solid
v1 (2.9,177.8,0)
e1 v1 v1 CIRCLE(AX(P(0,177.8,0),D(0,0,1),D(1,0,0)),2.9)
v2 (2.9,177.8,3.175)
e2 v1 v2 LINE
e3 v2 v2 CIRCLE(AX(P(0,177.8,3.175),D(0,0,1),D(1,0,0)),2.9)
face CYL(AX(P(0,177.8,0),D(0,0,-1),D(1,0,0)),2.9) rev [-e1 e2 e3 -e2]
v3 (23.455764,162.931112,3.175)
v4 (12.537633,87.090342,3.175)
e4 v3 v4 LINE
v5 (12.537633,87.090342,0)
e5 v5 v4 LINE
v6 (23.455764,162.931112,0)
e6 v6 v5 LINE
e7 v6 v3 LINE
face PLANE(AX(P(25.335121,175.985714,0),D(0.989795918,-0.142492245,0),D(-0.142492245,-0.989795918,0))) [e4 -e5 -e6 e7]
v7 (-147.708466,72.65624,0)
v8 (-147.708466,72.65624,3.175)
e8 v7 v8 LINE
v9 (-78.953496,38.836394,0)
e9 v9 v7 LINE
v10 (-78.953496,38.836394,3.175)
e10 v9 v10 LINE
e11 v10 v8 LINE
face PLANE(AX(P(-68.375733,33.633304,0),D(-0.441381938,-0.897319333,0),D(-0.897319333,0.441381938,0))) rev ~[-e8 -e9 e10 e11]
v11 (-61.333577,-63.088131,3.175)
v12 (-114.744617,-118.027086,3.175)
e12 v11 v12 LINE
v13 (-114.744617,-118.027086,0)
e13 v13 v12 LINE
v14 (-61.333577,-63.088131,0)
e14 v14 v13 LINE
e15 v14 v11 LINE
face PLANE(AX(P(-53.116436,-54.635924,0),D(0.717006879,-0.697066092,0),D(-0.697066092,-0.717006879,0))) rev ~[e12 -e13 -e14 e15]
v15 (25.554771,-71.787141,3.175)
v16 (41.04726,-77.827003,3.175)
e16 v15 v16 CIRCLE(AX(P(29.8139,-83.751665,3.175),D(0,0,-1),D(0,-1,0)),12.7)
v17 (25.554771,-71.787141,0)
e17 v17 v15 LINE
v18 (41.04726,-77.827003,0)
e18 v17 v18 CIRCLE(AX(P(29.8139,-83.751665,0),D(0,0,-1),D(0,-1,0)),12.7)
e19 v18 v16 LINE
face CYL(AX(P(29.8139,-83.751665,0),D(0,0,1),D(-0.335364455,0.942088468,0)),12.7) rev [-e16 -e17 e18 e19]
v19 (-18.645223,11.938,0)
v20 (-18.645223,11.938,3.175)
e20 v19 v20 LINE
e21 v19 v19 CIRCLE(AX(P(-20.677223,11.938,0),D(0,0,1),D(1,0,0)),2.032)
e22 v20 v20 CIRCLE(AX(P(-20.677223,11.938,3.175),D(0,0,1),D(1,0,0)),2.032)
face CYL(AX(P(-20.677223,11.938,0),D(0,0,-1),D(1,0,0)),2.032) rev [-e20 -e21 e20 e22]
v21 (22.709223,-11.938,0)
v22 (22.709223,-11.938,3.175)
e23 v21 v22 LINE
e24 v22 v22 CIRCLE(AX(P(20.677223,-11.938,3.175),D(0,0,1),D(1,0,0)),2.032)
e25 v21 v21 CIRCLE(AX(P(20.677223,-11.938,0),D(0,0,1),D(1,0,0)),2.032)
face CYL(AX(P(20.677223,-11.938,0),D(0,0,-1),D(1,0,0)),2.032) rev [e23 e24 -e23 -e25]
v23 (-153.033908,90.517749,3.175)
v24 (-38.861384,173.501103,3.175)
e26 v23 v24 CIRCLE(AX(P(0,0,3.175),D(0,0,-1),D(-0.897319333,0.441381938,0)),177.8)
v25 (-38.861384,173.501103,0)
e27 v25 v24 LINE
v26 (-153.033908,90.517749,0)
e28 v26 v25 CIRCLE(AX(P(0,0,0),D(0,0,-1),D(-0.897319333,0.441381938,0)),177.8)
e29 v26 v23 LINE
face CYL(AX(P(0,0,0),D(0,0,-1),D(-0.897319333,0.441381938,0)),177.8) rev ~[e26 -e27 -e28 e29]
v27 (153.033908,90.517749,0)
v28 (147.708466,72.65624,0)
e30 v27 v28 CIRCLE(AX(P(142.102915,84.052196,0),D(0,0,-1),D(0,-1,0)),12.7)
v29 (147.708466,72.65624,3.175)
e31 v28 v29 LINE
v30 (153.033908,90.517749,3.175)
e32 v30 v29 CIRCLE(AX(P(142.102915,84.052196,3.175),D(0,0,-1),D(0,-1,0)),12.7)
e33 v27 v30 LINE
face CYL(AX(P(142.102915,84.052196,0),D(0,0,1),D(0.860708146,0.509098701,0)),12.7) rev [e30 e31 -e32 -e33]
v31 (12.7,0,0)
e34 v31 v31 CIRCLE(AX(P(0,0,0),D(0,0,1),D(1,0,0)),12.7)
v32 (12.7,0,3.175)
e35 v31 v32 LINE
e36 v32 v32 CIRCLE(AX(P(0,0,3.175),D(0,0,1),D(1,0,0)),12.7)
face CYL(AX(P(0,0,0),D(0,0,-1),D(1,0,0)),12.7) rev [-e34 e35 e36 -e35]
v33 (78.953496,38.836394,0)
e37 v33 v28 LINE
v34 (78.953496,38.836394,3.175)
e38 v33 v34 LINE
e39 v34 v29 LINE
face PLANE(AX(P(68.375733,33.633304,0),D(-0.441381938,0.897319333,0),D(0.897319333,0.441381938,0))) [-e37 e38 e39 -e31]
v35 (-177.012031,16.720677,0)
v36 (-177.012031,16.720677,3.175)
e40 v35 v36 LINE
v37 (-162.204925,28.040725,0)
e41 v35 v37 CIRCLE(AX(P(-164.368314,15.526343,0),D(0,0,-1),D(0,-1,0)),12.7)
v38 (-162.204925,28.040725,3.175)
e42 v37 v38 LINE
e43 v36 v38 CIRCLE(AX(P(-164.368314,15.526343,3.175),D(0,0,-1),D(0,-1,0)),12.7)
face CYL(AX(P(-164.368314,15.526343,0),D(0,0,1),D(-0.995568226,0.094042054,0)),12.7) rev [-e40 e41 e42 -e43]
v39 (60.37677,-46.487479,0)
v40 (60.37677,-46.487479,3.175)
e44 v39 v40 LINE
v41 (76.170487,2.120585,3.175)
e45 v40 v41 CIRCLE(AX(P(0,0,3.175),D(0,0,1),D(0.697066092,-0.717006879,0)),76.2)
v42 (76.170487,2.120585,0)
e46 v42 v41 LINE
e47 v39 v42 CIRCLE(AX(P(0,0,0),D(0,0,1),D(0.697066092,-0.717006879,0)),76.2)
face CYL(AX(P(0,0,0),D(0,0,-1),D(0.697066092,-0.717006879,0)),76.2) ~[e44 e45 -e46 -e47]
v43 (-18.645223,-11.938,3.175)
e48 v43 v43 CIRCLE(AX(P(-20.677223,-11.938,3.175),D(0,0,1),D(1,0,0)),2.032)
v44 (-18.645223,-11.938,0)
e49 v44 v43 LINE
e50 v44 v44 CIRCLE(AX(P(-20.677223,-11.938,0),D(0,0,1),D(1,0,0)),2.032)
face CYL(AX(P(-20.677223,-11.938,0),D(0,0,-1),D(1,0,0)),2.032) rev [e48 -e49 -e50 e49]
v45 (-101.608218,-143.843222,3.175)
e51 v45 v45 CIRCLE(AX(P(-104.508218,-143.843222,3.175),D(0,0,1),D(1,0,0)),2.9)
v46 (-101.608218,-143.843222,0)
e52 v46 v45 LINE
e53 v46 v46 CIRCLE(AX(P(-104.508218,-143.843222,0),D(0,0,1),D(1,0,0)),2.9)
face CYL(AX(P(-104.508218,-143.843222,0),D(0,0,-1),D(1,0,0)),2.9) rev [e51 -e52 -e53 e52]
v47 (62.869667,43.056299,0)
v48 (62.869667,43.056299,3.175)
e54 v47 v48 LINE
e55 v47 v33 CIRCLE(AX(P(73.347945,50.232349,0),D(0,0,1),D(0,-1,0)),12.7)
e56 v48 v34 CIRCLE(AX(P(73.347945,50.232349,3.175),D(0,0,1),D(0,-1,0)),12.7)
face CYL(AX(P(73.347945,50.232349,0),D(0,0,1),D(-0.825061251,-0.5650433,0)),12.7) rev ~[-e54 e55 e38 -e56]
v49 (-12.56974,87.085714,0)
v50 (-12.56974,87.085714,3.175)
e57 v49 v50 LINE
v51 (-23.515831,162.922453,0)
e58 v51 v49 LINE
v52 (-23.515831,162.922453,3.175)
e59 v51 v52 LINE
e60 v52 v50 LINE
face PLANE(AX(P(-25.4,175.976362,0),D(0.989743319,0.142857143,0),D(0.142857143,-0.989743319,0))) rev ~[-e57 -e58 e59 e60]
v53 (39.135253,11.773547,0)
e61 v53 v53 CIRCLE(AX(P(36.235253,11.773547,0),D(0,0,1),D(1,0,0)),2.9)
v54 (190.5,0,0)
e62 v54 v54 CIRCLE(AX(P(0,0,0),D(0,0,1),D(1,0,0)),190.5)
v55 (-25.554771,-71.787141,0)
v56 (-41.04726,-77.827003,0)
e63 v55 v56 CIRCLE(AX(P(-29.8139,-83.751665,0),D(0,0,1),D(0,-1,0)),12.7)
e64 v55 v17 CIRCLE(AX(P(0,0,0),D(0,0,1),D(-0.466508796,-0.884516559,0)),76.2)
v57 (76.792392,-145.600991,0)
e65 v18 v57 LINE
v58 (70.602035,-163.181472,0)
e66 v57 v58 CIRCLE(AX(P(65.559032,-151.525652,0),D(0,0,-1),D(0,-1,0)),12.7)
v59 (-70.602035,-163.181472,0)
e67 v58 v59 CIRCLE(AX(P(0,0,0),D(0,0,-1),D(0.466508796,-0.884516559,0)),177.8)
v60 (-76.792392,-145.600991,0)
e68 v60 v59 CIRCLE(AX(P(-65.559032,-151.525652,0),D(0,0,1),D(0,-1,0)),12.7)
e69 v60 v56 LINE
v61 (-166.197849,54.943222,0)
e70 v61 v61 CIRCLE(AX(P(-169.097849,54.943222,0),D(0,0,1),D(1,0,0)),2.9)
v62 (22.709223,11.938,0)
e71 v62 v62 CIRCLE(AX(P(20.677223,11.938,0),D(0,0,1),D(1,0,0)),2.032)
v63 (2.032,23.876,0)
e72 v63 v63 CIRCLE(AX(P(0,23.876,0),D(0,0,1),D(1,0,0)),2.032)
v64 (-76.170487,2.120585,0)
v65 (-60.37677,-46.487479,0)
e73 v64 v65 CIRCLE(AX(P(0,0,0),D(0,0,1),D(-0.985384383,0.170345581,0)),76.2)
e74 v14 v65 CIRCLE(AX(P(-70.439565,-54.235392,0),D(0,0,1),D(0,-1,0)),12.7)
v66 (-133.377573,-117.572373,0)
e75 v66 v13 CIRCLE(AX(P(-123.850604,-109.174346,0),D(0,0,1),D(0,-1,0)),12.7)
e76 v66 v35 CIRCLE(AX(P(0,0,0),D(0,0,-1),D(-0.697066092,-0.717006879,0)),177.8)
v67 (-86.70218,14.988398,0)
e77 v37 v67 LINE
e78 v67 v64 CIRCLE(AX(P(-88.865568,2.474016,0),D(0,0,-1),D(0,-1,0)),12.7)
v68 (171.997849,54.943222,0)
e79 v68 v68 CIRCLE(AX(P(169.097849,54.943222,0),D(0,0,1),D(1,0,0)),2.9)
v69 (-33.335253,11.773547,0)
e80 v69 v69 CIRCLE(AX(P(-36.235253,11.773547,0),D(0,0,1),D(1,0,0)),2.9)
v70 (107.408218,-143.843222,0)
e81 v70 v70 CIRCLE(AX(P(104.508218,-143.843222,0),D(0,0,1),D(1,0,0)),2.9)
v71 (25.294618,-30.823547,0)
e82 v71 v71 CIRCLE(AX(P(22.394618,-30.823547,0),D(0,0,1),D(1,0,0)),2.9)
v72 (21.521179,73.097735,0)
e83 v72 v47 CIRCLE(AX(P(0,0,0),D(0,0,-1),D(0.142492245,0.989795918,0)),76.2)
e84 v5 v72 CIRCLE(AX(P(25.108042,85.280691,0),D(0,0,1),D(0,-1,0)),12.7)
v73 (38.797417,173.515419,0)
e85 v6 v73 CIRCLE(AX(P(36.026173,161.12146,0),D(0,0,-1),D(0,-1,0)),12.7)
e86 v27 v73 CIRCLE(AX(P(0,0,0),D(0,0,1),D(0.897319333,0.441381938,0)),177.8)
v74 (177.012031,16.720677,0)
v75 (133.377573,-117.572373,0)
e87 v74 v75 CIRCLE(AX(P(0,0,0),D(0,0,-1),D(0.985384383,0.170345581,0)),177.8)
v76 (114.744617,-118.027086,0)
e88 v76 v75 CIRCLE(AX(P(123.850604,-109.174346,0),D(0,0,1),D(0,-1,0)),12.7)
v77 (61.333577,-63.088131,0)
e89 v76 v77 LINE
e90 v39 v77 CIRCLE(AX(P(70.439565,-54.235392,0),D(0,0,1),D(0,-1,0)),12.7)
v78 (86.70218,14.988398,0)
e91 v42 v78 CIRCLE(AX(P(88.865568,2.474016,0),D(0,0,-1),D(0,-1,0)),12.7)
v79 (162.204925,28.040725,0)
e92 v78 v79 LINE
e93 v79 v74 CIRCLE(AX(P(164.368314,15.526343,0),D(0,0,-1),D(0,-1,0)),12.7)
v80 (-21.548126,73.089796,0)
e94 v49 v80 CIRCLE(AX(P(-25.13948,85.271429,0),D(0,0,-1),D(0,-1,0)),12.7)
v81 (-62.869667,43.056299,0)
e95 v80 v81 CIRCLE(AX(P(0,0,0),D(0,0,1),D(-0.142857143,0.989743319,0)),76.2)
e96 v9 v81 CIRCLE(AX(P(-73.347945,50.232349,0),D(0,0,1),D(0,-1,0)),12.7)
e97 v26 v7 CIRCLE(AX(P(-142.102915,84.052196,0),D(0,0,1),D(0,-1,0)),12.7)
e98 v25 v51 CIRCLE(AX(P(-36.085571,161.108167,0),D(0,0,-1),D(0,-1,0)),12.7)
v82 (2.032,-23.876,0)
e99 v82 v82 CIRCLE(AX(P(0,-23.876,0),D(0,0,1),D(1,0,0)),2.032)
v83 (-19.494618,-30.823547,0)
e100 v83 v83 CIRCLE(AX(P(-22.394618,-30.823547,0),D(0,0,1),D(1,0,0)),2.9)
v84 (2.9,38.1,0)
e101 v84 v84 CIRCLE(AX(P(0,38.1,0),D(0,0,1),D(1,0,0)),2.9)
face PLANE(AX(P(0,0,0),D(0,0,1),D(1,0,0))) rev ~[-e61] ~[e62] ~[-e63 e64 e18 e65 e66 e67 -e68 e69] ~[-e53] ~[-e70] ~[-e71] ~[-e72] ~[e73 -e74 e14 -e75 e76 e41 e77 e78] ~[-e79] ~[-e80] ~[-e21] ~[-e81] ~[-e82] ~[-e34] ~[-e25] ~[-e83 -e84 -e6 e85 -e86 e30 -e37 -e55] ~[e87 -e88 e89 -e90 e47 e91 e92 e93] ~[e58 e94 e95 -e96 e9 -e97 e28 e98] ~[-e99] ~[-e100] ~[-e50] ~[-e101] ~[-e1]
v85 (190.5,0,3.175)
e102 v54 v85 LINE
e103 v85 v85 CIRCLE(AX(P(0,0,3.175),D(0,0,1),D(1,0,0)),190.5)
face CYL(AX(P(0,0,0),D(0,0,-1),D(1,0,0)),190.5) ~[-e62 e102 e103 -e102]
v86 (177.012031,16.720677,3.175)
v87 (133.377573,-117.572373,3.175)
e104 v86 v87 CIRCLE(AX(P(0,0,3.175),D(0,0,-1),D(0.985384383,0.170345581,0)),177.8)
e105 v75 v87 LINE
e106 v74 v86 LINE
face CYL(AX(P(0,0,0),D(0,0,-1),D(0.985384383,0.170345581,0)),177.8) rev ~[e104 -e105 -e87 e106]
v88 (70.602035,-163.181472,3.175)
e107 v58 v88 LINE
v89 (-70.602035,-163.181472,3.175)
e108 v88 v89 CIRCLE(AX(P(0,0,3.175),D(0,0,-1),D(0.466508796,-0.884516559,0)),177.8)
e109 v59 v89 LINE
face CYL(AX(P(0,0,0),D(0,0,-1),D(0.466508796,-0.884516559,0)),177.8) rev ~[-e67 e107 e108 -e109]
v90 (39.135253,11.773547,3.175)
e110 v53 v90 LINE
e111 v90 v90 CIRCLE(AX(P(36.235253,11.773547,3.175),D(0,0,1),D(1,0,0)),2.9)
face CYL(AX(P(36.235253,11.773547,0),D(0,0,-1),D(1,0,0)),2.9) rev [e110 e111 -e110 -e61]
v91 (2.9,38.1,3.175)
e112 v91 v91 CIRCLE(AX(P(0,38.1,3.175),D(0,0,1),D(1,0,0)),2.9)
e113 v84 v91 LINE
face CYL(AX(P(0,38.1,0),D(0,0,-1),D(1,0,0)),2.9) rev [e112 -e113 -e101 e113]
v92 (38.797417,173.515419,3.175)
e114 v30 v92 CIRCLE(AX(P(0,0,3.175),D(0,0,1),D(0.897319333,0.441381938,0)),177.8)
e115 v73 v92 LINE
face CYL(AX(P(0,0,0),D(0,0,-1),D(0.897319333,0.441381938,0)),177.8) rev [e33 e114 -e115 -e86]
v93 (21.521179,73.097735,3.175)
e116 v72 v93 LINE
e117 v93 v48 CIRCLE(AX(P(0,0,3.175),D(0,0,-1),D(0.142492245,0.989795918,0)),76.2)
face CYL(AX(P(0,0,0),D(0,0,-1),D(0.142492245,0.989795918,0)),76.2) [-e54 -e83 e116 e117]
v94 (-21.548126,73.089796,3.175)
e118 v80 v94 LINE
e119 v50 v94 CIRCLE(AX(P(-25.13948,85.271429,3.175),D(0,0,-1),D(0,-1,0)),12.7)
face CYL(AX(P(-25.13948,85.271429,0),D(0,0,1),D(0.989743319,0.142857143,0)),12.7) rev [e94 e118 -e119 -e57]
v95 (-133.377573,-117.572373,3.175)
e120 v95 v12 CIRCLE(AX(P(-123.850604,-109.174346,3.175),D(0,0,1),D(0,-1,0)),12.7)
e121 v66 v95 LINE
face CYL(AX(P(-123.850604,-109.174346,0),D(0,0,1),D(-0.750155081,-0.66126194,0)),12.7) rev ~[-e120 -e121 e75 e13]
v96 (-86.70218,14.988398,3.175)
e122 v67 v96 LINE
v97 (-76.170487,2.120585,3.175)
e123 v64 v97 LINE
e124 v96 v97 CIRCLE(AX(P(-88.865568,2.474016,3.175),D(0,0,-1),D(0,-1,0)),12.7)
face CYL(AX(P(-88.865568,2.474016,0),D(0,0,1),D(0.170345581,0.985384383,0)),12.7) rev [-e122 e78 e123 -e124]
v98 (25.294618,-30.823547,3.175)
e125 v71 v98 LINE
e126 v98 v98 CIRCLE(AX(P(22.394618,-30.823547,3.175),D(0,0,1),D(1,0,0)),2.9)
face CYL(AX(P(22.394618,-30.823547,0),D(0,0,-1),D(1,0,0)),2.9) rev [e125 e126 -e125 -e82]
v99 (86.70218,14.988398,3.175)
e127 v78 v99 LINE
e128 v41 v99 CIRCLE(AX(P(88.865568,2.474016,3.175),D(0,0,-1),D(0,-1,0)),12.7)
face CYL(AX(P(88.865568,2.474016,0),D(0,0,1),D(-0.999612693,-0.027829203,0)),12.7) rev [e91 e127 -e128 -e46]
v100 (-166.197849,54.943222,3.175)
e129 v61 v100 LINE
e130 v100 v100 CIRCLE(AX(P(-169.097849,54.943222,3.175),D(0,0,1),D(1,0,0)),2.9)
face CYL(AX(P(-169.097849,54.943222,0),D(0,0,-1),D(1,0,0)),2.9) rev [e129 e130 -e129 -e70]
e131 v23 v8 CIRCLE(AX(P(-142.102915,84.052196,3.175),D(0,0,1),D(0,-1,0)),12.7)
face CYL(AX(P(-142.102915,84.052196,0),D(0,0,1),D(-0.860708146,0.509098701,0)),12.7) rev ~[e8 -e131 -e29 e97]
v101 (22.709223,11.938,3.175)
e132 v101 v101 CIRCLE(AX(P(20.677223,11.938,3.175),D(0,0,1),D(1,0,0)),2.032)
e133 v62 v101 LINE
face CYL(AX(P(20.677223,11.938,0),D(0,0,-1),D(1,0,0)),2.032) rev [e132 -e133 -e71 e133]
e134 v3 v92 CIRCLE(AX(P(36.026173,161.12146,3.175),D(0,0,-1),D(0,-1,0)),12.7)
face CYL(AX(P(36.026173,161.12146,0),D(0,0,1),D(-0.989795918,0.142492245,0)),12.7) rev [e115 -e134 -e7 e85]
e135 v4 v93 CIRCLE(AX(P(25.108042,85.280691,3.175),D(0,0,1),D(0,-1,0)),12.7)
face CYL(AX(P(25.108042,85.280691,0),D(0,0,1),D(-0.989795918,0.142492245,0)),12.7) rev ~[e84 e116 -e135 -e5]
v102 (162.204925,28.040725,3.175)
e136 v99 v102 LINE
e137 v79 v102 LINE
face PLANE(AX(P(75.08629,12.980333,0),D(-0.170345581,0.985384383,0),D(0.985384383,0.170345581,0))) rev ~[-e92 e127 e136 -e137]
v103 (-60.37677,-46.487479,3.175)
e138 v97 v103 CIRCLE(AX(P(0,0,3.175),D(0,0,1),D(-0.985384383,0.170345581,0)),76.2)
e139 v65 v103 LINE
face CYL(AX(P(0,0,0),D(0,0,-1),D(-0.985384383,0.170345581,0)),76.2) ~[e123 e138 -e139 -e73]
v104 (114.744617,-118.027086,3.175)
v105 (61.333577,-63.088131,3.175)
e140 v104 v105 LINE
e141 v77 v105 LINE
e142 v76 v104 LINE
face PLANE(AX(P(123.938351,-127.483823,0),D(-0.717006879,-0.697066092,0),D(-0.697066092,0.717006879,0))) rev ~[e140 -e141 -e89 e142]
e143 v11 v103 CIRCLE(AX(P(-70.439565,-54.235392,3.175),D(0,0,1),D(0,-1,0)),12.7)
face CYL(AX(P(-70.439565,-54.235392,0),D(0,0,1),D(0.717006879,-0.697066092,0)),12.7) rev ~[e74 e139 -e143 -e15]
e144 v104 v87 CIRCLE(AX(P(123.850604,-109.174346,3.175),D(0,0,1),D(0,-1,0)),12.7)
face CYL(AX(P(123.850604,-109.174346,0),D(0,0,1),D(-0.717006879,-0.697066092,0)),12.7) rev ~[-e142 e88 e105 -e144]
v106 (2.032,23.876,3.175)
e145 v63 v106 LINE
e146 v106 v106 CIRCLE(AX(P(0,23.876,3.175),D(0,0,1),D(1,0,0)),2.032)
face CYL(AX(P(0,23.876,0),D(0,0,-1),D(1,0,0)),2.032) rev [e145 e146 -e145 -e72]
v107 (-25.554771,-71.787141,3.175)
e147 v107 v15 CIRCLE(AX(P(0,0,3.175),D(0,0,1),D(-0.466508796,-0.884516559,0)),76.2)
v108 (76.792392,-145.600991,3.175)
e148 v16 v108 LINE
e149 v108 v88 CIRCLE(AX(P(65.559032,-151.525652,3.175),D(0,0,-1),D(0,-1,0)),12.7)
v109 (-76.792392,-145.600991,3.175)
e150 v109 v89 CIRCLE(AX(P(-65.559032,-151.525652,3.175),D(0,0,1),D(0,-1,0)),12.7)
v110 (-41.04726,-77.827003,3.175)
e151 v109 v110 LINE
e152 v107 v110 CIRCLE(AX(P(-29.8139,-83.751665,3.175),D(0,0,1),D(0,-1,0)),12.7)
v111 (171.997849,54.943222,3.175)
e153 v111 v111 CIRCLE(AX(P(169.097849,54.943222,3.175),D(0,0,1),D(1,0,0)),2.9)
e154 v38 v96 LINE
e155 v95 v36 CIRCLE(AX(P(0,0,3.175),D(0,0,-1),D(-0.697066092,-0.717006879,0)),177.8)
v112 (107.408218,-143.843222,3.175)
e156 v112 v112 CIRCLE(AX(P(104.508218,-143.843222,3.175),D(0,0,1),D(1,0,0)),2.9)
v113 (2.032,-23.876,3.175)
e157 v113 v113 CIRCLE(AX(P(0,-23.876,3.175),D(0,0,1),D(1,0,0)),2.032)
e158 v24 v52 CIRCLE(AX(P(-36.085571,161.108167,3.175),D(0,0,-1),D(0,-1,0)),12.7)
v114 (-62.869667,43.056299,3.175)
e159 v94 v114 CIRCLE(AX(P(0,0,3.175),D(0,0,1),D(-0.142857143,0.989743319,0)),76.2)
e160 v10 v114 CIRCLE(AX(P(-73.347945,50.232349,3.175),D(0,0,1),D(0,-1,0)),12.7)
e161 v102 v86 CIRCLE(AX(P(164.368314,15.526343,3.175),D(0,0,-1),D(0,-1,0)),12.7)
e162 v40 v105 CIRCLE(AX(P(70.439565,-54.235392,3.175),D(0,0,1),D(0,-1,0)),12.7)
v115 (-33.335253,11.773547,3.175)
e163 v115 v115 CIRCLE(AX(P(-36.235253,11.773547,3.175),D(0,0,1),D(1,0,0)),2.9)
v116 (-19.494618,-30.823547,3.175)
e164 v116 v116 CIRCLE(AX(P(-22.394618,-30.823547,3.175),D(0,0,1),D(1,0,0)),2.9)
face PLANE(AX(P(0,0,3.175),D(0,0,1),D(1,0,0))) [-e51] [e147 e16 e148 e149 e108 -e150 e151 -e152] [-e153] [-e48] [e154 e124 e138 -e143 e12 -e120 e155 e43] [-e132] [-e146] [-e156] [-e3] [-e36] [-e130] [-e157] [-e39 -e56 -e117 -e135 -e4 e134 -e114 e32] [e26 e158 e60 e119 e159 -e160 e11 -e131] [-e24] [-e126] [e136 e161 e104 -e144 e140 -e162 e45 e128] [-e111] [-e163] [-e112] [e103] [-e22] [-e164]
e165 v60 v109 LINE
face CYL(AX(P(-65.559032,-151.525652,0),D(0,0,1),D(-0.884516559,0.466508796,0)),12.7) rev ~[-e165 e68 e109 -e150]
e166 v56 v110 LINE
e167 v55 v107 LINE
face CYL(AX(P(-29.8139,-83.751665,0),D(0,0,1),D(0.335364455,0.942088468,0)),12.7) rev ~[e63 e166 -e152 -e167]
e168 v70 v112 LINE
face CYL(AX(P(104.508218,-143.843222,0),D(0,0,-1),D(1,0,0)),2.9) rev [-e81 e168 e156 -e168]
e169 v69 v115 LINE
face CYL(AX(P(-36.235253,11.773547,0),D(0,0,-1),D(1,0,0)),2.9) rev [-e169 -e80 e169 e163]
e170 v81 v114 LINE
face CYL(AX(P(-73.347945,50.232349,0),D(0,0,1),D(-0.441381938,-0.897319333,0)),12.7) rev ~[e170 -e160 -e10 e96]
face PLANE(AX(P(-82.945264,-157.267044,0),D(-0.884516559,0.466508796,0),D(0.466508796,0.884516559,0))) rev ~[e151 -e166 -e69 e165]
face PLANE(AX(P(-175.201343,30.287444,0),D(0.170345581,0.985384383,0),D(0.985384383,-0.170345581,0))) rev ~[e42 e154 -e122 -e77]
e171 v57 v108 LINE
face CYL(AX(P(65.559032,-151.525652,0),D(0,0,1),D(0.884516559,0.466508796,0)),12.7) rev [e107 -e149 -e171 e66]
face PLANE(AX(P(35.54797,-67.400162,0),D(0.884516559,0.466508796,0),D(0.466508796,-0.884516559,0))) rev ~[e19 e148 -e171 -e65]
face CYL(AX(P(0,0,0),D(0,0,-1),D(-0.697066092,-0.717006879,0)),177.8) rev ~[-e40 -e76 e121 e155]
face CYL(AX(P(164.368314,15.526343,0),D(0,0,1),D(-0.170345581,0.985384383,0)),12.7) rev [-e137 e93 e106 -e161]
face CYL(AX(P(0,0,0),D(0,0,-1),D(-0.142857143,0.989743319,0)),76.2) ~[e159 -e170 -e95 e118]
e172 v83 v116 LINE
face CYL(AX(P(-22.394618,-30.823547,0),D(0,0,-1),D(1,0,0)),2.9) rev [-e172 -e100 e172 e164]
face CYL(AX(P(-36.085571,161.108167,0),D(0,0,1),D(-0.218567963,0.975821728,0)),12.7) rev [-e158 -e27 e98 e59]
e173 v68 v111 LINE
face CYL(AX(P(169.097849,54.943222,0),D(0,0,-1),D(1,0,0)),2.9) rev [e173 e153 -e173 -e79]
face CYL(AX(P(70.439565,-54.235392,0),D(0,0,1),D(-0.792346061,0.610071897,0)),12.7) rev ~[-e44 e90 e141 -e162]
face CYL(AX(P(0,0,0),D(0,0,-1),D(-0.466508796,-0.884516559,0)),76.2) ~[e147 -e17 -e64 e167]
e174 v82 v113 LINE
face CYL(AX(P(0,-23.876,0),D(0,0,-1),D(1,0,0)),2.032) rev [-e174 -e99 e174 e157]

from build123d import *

# Parameters (mm, degrees)
SKETCH1_R           = 190.5
SKETCH1_R_2         = 12.7
SKETCH1_R_3         = 2.9
SKETCH1_R_4         = 2.032
BOSS_EXTRUDE3_DEPTH = 3.175
FILLET1_R           = 12.7
FILLET2_R           = 12.7
FILLET3_R           = 12.7


with BuildPart() as part:
    # Sketch1 → Boss-Extrude3 (new body)
    with BuildSketch(Plane.XY):
        Circle(SKETCH1_R)
        Circle(SKETCH1_R_2, mode=Mode.SUBTRACT)
        with Locations((-36.235253271, 11.773547486)):
            Circle(SKETCH1_R_3, mode=Mode.SUBTRACT)
        with Locations((-22.394618112, -30.823547486)):
            Circle(SKETCH1_R_3, mode=Mode.SUBTRACT)
        with Locations((22.394618112, -30.823547486)):
            Circle(SKETCH1_R_3, mode=Mode.SUBTRACT)
        with Locations((36.235253271, 11.773547486)):
            Circle(SKETCH1_R_3, mode=Mode.SUBTRACT)
        with Locations((0, 38.1)):
            Circle(SKETCH1_R_3, mode=Mode.SUBTRACT)
        with Locations((-169.097848597, 54.9432216)):
            Circle(SKETCH1_R_3, mode=Mode.SUBTRACT)
        with Locations((0, 177.8)):
            Circle(SKETCH1_R_3, mode=Mode.SUBTRACT)
        with Locations((169.097848597, 54.9432216)):
            Circle(SKETCH1_R_3, mode=Mode.SUBTRACT)
        with Locations((104.508217858, -143.8432216)):
            Circle(SKETCH1_R_3, mode=Mode.SUBTRACT)
        with Locations((-104.508217858, -143.8432216)):
            Circle(SKETCH1_R_3, mode=Mode.SUBTRACT)
        with Locations((-20.677222541, 11.938)):
            Circle(SKETCH1_R_4, mode=Mode.SUBTRACT)
        with Locations((0, 23.876)):
            Circle(SKETCH1_R_4, mode=Mode.SUBTRACT)
        with Locations((20.677222541, 11.938)):
            Circle(SKETCH1_R_4, mode=Mode.SUBTRACT)
        with Locations((20.677222541, -11.938)):
            Circle(SKETCH1_R_4, mode=Mode.SUBTRACT)
        with Locations((0, -23.876)):
            Circle(SKETCH1_R_4, mode=Mode.SUBTRACT)
        with Locations((-20.677222541, -11.938)):
            Circle(SKETCH1_R_4, mode=Mode.SUBTRACT)
        with BuildLine():
            Line((25.335121222, 175.985714286), (10.857909095, 75.42244898))
            ThreePointArc((10.857909095, 75.42244898), (44.789236225, 61.647094971), (68.375733143, 33.63330369))
            Line((68.375733143, 33.63330369), (159.543377334, 78.477708611))
            ThreePointArc((159.543377334, 78.477708611), (104.508217858, 143.8432216), (25.335121222, 175.985714286))
        make_face(mode=Mode.SUBTRACT)
        with BuildLine():
            Line((-25.4, 175.976362049), (-10.885714286, 75.418440878))
            ThreePointArc((-10.885714286, 75.418440878), (-44.800599154, 61.63883772), (-68.375733143, 33.63330369))
            Line((-68.375733143, 33.63330369), (-159.543377334, 78.477708611))
            ThreePointArc((-159.543377334, 78.477708611), (-104.53473136, 143.823954679), (-25.4, 175.976362049))
        make_face(mode=Mode.SUBTRACT)
        with BuildLine():
            Line((75.086290011, 12.980333294), (175.201343359, 30.287444352))
            ThreePointArc((175.201343359, 30.287444352), (169.097848597, -54.9432216), (123.938351095, -127.483823005))
            Line((123.938351095, -127.483823005), (53.116436183, -54.635924145))
            ThreePointArc((53.116436183, -54.635924145), (72.470506542, -23.547094971), (75.086290011, 12.980333294))
        make_face(mode=Mode.SUBTRACT)
        with BuildLine():
            Line((35.547970221, -67.400161819), (82.945263848, -157.267044244))
            ThreePointArc((82.945263848, -157.267044244), (0, -177.8), (-82.945263848, -157.267044244))
            Line((-82.945263848, -157.267044244), (-35.547970221, -67.400161819))
            ThreePointArc((-35.547970221, -67.400161819), (0, -76.2), (35.547970221, -67.400161819))
        make_face(mode=Mode.SUBTRACT)
        with BuildLine():
            Line((-175.201343359, 30.287444352), (-75.086290011, 12.980333294))
            ThreePointArc((-75.086290011, 12.980333294), (-72.470506542, -23.547094971), (-53.116436183, -54.635924145))
            Line((-53.116436183, -54.635924145), (-123.938351095, -127.483823005))
            ThreePointArc((-123.938351095, -127.483823005), (-169.097848597, -54.9432216), (-175.201343359, 30.287444352))
        make_face(mode=Mode.SUBTRACT)
    extrude(amount=BOSS_EXTRUDE3_DEPTH)

    # Fillet1
    fillet1_edges = [part.edges().sort_by_distance(p)[0] for p in [
        (-175.201343359, 30.287444352, 1.5875),
    ]]
    fillet(fillet1_edges, radius=FILLET1_R)

    # Fillet2
    fillet2_edges = [part.edges().sort_by_distance(p)[0] for p in [
        (-25.4, 175.976362049, 1.5875),
        (-159.543377334, 78.477708611, 1.5875),
        (-68.375733143, 33.63330369, 1.5875),
        (-10.885714286, 75.418440878, 1.5875),
        (75.086290011, 12.980333294, 1.5875),
        (53.116436183, -54.635924145, 1.5875),
        (123.938351095, -127.483823005, 1.5875),
        (175.201343359, 30.287444352, 1.5875),
        (35.547970221, -67.400161819, 1.5875),
        (10.857909095, 75.42244898, 1.5875),
        (68.375733143, 33.63330369, 1.5875),
        (159.543377334, 78.477708611, 1.5875),
        (25.335121222, 175.985714286, 1.5875),
    ]]
    fillet(fillet2_edges, radius=FILLET2_R)

    # Fillet3
    fillet3_edges = [part.edges().sort_by_distance(p)[0] for p in [
        (-35.547970221, -67.400161819, 1.5875),
        (-82.945263848, -157.267044244, 1.5875),
        (82.945263848, -157.267044244, 1.5875),
        (-123.938351095, -127.483823005, 1.5875),
        (-53.116436183, -54.635924145, 1.5875),
        (-75.086290011, 12.980333294, 1.5875),
    ]]
    fillet(fillet3_edges, radius=FILLET3_R)


solid = part.part
